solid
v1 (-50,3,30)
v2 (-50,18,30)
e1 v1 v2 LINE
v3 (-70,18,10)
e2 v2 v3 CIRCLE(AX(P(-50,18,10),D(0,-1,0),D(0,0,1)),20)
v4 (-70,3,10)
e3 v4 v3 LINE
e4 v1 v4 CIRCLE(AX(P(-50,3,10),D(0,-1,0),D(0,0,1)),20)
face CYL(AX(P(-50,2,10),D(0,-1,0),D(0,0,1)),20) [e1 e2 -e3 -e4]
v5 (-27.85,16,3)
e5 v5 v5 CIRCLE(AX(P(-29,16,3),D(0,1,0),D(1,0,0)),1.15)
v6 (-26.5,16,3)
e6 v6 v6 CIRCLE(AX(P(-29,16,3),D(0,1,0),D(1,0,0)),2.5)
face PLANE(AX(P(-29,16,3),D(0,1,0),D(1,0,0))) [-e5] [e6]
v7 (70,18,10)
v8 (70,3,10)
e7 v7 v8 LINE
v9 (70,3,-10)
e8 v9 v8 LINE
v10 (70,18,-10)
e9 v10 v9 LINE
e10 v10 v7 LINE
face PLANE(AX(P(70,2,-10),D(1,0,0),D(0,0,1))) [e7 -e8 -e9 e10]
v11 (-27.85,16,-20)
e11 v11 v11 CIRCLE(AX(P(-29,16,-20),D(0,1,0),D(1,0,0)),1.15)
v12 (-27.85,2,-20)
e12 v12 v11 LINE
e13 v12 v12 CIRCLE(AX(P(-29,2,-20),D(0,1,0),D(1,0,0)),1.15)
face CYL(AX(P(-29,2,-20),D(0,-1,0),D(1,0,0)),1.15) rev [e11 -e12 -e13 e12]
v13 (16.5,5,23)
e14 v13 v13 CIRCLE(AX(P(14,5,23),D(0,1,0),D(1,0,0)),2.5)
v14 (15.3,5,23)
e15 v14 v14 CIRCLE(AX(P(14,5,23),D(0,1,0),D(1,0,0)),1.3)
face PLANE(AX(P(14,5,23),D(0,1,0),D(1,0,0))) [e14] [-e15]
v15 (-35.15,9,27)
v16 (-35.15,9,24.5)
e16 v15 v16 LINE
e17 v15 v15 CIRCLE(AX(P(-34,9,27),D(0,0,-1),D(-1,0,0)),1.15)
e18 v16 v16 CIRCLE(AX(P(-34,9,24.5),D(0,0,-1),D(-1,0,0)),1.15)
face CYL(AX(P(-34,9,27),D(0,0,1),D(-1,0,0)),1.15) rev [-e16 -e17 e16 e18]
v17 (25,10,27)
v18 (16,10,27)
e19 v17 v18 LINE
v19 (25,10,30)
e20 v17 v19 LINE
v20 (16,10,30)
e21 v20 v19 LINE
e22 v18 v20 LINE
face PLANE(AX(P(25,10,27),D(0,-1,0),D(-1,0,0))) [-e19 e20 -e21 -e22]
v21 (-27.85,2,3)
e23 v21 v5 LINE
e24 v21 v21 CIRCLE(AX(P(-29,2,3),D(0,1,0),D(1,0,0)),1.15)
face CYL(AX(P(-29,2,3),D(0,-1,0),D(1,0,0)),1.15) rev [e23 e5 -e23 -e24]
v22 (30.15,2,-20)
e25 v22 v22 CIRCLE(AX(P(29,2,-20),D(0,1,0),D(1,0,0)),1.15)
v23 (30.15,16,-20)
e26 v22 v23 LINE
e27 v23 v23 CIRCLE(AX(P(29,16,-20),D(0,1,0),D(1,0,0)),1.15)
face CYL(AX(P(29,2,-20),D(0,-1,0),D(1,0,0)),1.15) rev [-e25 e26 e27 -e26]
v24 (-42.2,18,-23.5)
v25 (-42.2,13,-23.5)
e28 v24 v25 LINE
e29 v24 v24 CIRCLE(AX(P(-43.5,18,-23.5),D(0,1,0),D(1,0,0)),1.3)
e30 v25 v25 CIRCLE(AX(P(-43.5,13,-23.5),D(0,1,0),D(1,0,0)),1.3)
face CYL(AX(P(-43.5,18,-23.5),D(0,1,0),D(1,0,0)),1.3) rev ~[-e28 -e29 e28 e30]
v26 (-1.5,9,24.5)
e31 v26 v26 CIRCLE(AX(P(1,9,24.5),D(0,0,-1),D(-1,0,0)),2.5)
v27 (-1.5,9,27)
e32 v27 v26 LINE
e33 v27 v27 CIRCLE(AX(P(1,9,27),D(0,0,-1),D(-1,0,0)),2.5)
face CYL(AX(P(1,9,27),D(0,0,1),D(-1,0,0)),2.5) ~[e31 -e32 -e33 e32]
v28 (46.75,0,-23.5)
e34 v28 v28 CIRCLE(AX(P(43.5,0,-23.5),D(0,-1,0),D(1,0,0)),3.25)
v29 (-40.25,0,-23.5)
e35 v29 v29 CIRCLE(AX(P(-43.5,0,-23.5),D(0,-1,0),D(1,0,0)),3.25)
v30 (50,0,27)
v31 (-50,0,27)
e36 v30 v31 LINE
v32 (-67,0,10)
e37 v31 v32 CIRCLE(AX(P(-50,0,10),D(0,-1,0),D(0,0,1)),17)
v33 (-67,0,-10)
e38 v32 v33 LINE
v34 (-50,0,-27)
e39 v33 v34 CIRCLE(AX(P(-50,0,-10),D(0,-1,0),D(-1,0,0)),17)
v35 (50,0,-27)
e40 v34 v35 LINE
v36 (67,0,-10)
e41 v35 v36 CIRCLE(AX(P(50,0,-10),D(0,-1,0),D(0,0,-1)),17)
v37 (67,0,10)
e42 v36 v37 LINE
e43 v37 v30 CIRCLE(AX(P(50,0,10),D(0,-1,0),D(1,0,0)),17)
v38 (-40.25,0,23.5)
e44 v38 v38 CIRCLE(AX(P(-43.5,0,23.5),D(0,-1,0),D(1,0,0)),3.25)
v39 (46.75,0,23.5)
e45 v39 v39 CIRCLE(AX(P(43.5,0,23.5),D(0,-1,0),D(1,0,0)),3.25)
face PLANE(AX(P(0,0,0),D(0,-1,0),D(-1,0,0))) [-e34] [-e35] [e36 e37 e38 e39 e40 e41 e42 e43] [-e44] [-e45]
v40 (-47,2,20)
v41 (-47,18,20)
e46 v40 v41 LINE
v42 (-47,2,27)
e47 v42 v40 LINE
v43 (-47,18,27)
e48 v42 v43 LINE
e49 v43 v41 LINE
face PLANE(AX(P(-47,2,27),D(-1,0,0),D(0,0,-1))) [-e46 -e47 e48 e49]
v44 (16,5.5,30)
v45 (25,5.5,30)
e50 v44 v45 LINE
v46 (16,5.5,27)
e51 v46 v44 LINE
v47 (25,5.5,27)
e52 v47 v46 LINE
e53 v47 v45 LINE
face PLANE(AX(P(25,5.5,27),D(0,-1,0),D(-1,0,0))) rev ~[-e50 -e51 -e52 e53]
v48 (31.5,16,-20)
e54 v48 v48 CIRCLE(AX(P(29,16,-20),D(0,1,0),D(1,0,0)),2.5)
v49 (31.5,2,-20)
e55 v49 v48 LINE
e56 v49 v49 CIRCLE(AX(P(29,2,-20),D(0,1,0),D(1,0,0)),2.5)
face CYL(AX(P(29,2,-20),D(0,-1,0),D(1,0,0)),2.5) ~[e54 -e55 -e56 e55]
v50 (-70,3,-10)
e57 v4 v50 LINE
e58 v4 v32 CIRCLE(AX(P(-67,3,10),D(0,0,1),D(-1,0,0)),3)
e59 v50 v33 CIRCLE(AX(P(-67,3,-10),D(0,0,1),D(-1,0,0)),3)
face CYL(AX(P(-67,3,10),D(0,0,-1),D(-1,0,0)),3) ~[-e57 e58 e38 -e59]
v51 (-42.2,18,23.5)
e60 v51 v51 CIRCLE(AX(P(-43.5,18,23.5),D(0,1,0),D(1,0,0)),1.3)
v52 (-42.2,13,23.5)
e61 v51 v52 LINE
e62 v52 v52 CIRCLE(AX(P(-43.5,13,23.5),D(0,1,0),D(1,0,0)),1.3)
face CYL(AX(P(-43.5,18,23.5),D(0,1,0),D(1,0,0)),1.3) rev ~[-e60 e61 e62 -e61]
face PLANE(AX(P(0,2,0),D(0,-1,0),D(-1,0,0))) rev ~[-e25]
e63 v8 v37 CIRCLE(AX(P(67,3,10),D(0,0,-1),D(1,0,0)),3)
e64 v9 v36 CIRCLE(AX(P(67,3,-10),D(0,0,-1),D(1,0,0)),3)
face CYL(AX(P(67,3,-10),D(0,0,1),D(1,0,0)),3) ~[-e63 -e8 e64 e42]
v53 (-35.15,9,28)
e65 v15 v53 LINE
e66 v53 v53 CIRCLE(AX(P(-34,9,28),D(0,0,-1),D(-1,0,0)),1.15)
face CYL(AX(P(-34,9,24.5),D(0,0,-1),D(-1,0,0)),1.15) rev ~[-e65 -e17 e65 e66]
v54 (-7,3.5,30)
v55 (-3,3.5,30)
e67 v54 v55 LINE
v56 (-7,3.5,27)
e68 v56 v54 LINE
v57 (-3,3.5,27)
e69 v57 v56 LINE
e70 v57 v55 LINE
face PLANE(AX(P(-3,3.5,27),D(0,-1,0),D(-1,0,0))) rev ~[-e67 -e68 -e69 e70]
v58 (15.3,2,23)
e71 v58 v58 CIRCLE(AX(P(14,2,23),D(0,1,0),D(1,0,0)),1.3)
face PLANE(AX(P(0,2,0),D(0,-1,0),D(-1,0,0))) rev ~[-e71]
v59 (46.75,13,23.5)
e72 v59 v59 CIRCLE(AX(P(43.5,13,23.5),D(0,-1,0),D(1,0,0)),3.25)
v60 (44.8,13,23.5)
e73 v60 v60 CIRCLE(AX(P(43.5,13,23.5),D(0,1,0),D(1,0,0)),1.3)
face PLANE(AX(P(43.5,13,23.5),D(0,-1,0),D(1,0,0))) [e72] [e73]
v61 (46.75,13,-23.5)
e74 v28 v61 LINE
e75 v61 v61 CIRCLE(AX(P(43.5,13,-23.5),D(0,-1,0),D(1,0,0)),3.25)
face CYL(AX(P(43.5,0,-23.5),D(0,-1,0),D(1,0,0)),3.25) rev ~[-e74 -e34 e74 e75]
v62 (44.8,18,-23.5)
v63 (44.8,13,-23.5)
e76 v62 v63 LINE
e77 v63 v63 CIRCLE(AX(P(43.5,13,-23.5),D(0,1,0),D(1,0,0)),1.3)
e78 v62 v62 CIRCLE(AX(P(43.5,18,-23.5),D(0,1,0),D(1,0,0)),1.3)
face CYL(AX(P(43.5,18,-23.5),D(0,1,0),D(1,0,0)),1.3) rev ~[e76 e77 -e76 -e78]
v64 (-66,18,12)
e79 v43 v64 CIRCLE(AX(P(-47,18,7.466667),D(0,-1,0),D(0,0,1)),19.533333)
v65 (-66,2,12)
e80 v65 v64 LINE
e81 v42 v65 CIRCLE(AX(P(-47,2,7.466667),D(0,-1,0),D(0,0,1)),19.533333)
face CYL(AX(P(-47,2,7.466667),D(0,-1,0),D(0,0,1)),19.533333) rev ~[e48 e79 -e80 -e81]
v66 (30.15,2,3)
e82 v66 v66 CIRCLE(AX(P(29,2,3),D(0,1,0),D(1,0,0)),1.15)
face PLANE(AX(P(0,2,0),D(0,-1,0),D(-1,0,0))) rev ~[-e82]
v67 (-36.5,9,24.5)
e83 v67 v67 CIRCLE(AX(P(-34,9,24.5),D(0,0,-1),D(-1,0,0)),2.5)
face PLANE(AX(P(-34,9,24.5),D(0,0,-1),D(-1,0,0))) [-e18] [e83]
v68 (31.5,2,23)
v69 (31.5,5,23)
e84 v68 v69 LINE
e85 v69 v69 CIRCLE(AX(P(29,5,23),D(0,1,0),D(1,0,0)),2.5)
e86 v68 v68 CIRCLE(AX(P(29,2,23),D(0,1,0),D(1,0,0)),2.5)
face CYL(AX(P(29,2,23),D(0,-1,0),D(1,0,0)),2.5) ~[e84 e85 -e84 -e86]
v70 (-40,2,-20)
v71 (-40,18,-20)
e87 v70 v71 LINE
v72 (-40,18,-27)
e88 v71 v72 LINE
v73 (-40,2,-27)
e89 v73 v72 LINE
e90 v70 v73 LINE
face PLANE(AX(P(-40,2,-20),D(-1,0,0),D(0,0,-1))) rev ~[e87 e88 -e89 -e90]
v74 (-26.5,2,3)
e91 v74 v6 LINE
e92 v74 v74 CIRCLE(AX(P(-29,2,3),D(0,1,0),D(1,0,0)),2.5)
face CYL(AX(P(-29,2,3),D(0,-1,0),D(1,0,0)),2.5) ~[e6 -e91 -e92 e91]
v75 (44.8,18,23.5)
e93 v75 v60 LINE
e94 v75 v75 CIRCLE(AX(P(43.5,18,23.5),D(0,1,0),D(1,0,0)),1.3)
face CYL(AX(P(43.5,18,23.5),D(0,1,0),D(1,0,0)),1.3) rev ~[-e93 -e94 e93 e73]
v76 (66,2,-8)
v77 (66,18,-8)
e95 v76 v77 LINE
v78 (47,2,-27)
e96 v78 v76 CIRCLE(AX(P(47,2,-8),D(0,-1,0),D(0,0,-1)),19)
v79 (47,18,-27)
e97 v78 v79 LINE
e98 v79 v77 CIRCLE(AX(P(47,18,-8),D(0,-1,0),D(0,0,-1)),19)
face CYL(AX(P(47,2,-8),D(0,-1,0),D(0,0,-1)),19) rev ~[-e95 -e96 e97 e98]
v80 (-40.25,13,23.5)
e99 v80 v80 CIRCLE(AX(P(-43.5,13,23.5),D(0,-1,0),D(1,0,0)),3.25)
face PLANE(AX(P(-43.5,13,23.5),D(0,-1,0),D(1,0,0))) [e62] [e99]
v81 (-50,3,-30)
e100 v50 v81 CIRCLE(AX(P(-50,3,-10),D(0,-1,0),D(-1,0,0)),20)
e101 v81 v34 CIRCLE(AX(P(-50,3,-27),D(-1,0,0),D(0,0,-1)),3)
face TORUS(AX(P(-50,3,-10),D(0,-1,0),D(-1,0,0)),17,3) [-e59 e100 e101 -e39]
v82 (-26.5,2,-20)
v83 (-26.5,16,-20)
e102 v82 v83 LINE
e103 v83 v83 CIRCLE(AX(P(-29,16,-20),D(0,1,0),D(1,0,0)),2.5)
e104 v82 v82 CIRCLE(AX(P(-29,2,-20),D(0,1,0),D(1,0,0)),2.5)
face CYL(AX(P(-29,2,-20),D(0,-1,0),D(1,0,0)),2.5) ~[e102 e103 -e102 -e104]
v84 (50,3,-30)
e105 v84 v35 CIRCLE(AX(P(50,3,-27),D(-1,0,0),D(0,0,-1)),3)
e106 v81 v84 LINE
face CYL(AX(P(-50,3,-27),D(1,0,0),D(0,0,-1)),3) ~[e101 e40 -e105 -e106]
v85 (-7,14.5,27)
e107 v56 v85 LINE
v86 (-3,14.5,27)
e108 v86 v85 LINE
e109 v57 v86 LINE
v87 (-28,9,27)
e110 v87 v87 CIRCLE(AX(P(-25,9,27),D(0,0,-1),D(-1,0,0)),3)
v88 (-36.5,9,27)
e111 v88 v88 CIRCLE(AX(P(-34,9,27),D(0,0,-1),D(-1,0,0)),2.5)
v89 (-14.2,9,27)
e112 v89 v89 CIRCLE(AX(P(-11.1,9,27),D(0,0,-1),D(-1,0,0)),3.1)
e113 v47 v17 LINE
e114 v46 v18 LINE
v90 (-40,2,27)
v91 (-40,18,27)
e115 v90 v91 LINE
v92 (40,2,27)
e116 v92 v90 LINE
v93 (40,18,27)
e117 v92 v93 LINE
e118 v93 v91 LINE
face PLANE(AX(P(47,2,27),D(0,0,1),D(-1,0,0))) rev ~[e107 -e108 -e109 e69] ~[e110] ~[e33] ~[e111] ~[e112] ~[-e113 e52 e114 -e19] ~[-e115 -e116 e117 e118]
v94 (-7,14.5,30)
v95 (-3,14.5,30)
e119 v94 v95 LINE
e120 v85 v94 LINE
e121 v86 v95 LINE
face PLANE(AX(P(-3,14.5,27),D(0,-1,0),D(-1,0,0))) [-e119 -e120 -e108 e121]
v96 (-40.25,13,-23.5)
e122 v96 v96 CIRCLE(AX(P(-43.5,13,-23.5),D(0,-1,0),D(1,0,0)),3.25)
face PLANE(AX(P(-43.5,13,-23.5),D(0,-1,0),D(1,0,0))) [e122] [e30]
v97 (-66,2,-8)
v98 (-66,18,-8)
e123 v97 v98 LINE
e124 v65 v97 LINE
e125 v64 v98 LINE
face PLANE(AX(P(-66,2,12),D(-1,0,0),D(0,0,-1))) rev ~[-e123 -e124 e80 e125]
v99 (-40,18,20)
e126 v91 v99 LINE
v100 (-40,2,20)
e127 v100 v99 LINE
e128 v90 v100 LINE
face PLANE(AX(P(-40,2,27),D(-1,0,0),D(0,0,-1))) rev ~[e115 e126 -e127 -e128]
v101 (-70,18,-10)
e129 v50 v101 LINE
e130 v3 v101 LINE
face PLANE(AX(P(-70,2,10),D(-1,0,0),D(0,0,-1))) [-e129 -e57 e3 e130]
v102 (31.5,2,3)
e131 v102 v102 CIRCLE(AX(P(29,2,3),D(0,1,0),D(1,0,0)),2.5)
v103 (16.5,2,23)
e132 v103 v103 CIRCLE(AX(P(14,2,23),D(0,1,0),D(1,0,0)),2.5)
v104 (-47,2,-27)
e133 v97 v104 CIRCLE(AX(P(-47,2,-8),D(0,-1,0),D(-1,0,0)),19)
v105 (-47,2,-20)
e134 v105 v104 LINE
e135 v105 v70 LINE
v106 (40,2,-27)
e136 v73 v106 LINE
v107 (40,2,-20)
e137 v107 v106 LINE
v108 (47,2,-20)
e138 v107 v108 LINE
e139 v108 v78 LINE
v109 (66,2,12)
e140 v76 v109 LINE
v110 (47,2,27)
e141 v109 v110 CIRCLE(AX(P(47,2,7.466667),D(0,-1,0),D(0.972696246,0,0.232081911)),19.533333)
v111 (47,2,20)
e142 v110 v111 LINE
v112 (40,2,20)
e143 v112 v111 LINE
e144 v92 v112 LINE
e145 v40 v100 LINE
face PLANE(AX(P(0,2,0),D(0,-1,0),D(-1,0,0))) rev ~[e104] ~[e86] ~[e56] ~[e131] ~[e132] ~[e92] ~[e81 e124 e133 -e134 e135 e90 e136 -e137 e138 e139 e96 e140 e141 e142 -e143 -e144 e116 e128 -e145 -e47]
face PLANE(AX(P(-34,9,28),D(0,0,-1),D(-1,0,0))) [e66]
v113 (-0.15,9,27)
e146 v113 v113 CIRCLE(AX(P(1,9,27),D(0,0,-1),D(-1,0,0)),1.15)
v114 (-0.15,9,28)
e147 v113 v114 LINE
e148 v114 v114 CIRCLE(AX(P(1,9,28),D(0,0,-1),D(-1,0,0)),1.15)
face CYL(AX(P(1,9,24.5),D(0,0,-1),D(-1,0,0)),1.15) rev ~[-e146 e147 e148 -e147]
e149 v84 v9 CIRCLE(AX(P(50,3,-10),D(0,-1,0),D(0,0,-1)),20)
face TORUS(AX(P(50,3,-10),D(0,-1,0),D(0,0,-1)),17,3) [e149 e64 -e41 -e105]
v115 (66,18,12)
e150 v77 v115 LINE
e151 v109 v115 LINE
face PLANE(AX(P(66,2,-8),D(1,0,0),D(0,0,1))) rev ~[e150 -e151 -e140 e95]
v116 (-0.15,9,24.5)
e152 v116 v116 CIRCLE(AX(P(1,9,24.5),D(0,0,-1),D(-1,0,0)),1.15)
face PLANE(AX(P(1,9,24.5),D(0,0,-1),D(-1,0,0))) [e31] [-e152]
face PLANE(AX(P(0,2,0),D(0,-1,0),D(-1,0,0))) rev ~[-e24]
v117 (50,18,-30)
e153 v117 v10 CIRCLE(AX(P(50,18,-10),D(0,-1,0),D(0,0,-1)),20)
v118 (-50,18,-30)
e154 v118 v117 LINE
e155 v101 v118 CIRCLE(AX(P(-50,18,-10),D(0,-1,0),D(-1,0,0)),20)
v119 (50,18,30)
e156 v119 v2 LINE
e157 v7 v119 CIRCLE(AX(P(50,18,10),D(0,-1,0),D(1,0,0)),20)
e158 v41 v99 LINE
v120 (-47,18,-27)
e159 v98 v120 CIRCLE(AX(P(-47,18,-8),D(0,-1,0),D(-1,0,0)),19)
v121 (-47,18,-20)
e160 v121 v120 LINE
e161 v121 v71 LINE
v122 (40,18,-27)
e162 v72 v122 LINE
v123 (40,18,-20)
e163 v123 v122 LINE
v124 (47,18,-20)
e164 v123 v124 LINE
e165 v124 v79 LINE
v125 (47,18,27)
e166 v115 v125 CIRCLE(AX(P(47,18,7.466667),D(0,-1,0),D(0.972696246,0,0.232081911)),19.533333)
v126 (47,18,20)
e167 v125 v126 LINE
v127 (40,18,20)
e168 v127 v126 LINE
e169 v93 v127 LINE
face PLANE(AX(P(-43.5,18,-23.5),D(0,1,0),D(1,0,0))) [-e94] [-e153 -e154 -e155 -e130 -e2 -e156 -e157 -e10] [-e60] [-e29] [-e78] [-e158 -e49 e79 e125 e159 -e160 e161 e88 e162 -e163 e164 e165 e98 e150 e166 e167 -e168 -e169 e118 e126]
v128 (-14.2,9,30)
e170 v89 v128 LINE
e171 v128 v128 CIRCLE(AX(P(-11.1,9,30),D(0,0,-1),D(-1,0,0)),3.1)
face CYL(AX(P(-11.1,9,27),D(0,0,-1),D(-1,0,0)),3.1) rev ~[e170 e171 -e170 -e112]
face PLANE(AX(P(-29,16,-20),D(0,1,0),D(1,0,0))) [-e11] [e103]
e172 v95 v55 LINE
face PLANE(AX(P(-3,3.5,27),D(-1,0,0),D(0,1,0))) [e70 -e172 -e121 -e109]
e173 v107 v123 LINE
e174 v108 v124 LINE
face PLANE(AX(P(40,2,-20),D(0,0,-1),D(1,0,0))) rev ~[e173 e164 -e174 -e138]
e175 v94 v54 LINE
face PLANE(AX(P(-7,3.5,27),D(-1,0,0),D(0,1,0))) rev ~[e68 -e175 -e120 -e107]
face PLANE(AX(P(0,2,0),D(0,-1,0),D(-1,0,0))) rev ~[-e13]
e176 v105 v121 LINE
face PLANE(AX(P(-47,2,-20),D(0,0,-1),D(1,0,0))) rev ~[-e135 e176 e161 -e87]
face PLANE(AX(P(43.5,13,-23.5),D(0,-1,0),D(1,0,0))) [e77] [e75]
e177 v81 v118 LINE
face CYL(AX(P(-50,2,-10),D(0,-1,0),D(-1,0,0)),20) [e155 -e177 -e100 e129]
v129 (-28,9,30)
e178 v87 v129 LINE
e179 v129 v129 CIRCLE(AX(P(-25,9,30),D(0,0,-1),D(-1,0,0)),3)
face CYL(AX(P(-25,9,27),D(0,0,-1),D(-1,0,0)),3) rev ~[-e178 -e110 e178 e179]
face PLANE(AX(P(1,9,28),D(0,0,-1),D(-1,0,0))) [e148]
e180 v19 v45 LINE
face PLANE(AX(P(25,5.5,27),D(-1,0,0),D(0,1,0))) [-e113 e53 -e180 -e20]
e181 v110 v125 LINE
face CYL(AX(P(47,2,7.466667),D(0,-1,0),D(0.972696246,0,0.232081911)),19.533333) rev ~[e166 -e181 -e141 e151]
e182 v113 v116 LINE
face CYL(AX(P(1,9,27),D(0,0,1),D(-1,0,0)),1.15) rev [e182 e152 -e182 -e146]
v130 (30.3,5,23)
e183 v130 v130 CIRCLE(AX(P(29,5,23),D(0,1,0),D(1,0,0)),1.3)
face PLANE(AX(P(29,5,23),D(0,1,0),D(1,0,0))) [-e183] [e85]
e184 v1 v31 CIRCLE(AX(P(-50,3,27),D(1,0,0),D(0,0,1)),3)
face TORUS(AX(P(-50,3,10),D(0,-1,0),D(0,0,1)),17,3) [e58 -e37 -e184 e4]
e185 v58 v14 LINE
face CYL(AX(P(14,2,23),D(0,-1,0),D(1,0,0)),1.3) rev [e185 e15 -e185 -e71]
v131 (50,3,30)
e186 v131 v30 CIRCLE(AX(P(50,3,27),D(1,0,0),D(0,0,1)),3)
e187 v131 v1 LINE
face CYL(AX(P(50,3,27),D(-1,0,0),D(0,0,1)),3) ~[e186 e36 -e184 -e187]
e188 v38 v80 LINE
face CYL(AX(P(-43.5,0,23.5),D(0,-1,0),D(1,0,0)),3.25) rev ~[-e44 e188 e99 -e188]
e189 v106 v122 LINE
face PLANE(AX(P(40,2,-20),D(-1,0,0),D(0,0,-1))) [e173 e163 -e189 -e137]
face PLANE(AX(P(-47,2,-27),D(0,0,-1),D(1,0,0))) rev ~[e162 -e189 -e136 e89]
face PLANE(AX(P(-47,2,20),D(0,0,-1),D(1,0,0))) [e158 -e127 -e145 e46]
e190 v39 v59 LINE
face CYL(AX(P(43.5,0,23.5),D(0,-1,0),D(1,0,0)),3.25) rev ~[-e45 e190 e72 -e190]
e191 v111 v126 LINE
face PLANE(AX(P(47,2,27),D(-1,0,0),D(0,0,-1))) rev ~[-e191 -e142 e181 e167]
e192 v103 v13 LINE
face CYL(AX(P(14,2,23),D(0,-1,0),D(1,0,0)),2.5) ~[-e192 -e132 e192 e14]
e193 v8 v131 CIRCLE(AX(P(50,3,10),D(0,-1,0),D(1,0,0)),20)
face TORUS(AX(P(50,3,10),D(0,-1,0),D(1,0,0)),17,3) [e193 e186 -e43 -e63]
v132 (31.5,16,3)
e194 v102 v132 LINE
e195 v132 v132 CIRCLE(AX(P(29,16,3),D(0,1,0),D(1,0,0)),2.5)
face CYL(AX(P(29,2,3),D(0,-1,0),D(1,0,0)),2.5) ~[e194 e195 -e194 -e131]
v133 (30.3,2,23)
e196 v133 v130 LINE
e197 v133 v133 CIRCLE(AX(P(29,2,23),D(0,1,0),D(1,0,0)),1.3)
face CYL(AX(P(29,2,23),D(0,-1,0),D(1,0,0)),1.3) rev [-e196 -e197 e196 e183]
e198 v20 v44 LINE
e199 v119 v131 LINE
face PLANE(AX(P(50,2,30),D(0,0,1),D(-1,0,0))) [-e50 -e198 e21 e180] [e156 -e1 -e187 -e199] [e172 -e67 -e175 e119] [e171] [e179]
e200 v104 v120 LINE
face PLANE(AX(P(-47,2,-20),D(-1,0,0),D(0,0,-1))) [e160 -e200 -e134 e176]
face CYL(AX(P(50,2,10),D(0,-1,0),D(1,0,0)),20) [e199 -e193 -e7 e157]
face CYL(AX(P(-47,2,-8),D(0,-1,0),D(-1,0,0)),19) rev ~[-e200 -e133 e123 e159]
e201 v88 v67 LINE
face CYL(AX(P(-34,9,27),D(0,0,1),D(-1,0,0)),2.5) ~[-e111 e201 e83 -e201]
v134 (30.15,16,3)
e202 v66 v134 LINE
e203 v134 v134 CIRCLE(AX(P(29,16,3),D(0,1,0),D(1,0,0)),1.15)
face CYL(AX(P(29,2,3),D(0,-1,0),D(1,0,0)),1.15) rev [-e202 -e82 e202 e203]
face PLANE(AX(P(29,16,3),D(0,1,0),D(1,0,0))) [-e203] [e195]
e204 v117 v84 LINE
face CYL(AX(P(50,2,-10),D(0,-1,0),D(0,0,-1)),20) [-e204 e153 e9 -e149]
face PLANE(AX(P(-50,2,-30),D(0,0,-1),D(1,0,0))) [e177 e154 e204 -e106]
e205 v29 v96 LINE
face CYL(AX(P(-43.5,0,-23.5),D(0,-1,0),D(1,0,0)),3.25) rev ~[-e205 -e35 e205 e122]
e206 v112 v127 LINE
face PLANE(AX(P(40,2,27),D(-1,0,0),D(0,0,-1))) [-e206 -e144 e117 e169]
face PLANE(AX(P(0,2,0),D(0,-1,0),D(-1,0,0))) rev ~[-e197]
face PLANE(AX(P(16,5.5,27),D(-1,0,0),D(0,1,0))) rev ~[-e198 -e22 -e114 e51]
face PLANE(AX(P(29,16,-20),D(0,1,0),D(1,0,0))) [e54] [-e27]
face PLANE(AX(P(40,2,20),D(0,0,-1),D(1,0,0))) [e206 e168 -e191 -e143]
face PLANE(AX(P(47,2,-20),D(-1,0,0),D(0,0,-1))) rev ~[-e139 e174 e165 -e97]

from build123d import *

# Parameters (mm, degrees)
BOSS_EXTRUDE1_DEPTH = 2
BOSS_EXTRUDE2_DEPTH = 16
SKETCH12_W          = 7
SKETCH12_H          = 7
BOSS_EXTRUDE5_DEPTH = 16
FILLET1_R           = 3
SKETCH13_R          = 1.3
CUT_EXTRUDE7_DEPTH  = 19
SKETCH14_R          = 2.5
SKETCH14_R_2        = 1.15
BOSS_EXTRUDE6_DEPTH = 14
SKETCH15_R          = 2.5
SKETCH15_R_2        = 1.3
BOSS_EXTRUDE7_DEPTH = 3
SKETCH16_W          = 9
SKETCH16_H          = 4.5
CUT_EXTRUDE8_DEPTH  = 4
SKETCH17_R          = 3.25
CUT_EXTRUDE9_DEPTH  = 13
SKETCH19_R          = 2.5
SKETCH19_R_2        = 1.15
BOSS_EXTRUDE8_DEPTH = 2.5
SKETCH20_R          = 3.1
SKETCH20_R_2        = 3
SKETCH20_W          = 4
SKETCH20_H          = 11
CUT_EXTRUDE10_DEPTH = 5
SKETCH21_R          = 1.15
CUT_EXTRUDE11_DEPTH = 3.5
SKETCH22_R          = 1.15
CUT_EXTRUDE12_DEPTH = 3.5


with BuildPart() as part:
    # Sketch1 → Boss-Extrude1 (new body)
    with BuildSketch(Plane(origin=(0, 0, 0), x_dir=(1, 0, 0), z_dir=(0, 1, 0))):
        with BuildLine():
            Line((70, 10), (70, -10))
            ThreePointArc((70, -10), (64.142135624, -24.142135624), (50, -30))
            Line((50, -30), (-50, -30))
            ThreePointArc((-50, -30), (-64.142135624, -24.142135624), (-70, -10))
            Line((-70, -10), (-70, 10))
            ThreePointArc((-70, 10), (-64.142135624, 24.142135624), (-50, 30))
            Line((-50, 30), (50, 30))
            ThreePointArc((50, 30), (64.142135624, 24.142135624), (70, 10))
        make_face()
    extrude(amount=BOSS_EXTRUDE1_DEPTH)

    # Sketch2 → Boss-Extrude2 (add)
    with BuildSketch(Plane(origin=(0, 2, 0), x_dir=(1, 0, 0), z_dir=(0, 1, 0))):
        with BuildLine():
            Line((-50, 30), (50, 30))
            ThreePointArc((50, 30), (64.142135624, 24.142135624), (70, 10))
            Line((70, 10), (70, -10))
            ThreePointArc((70, -10), (64.142135624, -24.142135624), (50, -30))
            Line((50, -30), (-50, -30))
            ThreePointArc((-50, -30), (-64.142135624, -24.142135624), (-70, -10))
            Line((-70, -10), (-70, 10))
            ThreePointArc((-70, 10), (-64.142135624, 24.142135624), (-50, 30))
        make_face()
        with BuildLine():
            Line((-47, 27), (47, 27))
            ThreePointArc((47, 27), (60.435028843, 21.435028843), (66, 8))
            Line((66, 8), (66, -12))
            ThreePointArc((66, -12), (59.103718437, -22.798043353), (47, -27))
            Line((47, -27), (-47, -27))
            ThreePointArc((-47, -27), (-59.103718437, -22.798043353), (-66, -12))
            Line((-66, -12), (-66, 8))
            ThreePointArc((-66, 8), (-60.435028843, 21.435028843), (-47, 27))
        make_face(mode=Mode.SUBTRACT)
    extrude(amount=BOSS_EXTRUDE2_DEPTH)

    # Sketch12 → Boss-Extrude5 (add)
    with BuildSketch(Plane(origin=(0, 2, 0), x_dir=(1, 0, 0), z_dir=(0, 1, 0))):
        with Locations((-43.5, 23.5)):
            Rectangle(SKETCH12_W, SKETCH12_H)
        with Locations((-43.5, -23.5)):
            Rectangle(SKETCH12_W, SKETCH12_H)
        with Locations((43.5, -23.5)):
            Rectangle(SKETCH12_W, SKETCH12_H)
        with Locations((43.5, 23.5)):
            Rectangle(SKETCH12_W, SKETCH12_H)
    extrude(amount=BOSS_EXTRUDE5_DEPTH)

    # Fillet1
    fillet1_edges = [part.edges().sort_by_distance(p)[0] for p in [
        (70, 0, 0),
        (64.142135624, 0, 24.142135624),
        (0, 0, 30),
        (-64.142135624, 0, 24.142135624),
        (-70, 0, 0),
        (-64.142135624, 0, -24.142135624),
        (0, 0, -30),
        (64.142135624, 0, -24.142135624),
    ]]
    fillet(fillet1_edges, radius=FILLET1_R)

    # Sketch13 → Cut-Extrude7 (cut, through all)
    with BuildSketch(Plane(origin=(0, 18, 0), x_dir=(1, 0, 0), z_dir=(0, 1, 0))):
        with Locations((-43.5, 23.5)):
            Circle(SKETCH13_R)
        with Locations((-43.5, -23.5)):
            Circle(SKETCH13_R)
        with Locations((43.5, -23.5)):
            Circle(SKETCH13_R)
        with Locations((43.5, 23.5)):
            Circle(SKETCH13_R)
    extrude(amount=-CUT_EXTRUDE7_DEPTH, mode=Mode.SUBTRACT)

    # Sketch14 → Boss-Extrude6 (add)
    with BuildSketch(Plane(origin=(0, 2, 0), x_dir=(1, 0, 0), z_dir=(0, 1, 0))):
        with Locations((29, -3)):
            Circle(SKETCH14_R)
        with Locations((29, -3)):
            Circle(SKETCH14_R_2, mode=Mode.SUBTRACT)
        with Locations((29, 20)):
            Circle(SKETCH14_R)
        with Locations((29, 20)):
            Circle(SKETCH14_R_2, mode=Mode.SUBTRACT)
        with Locations((-29, 20)):
            Circle(SKETCH14_R)
        with Locations((-29, 20)):
            Circle(SKETCH14_R_2, mode=Mode.SUBTRACT)
        with Locations((-29, -3)):
            Circle(SKETCH14_R)
        with Locations((-29, -3)):
            Circle(SKETCH14_R_2, mode=Mode.SUBTRACT)
    extrude(amount=BOSS_EXTRUDE6_DEPTH)

    # Sketch15 → Boss-Extrude7 (add)
    with BuildSketch(Plane(origin=(0, 2, 0), x_dir=(1, 0, 0), z_dir=(0, 1, 0))):
        with Locations((29, -23)):
            Circle(SKETCH15_R)
        with Locations((29, -23)):
            Circle(SKETCH15_R_2, mode=Mode.SUBTRACT)
        with Locations((14, -23)):
            Circle(SKETCH15_R)
        with Locations((14, -23)):
            Circle(SKETCH15_R_2, mode=Mode.SUBTRACT)
    extrude(amount=BOSS_EXTRUDE7_DEPTH)

    # Sketch16 → Cut-Extrude8 (cut, through all)
    with BuildSketch(Plane(origin=(0, 0, 27), x_dir=(-1, 0, 0), z_dir=(0, 0, -1))):
        with Locations((-20.5, 7.75)):
            Rectangle(SKETCH16_W, SKETCH16_H)
    extrude(amount=-CUT_EXTRUDE8_DEPTH, mode=Mode.SUBTRACT)

    # Sketch17 → Cut-Extrude9 (cut)
    with BuildSketch(Plane.XZ):
        with Locations((-43.5, 23.5)):
            Circle(SKETCH17_R)
        with Locations((43.5, 23.5)):
            Circle(SKETCH17_R)
        with Locations((43.5, -23.5)):
            Circle(SKETCH17_R)
        with Locations((-43.5, -23.5)):
            Circle(SKETCH17_R)
    extrude(amount=-CUT_EXTRUDE9_DEPTH, mode=Mode.SUBTRACT)

    # Sketch19 → Boss-Extrude8 (add)
    with BuildSketch(Plane(origin=(0, 0, 27), x_dir=(-1, 0, 0), z_dir=(0, 0, -1))):
        with Locations((-1, 9)):
            Circle(SKETCH19_R)
        with Locations((-1, 9)):
            Circle(SKETCH19_R_2, mode=Mode.SUBTRACT)
        with Locations((34, 9)):
            Circle(SKETCH19_R)
        with Locations((34, 9)):
            Circle(SKETCH19_R_2, mode=Mode.SUBTRACT)
    extrude(amount=BOSS_EXTRUDE8_DEPTH)

    # Sketch20 → Cut-Extrude10 (cut)
    with BuildSketch(Plane(origin=(0, 0, 27), x_dir=(-1, 0, 0), z_dir=(0, 0, -1))):
        with Locations((11.1, 9)):
            Circle(SKETCH20_R)
        with Locations((25, 9)):
            Circle(SKETCH20_R_2)
        with Locations((5, 9)):
            Rectangle(SKETCH20_W, SKETCH20_H)
    extrude(amount=-CUT_EXTRUDE10_DEPTH, mode=Mode.SUBTRACT)

    # Sketch21 → Cut-Extrude11 (cut)
    with BuildSketch(Plane(origin=(0, 0, 24.5), x_dir=(-1, 0, 0), z_dir=(0, 0, -1))):
        with Locations((-1, 9)):
            Circle(SKETCH21_R)
    extrude(amount=-CUT_EXTRUDE11_DEPTH, mode=Mode.SUBTRACT)

    # Sketch22 → Cut-Extrude12 (cut)
    with BuildSketch(Plane(origin=(0, 0, 24.5), x_dir=(-1, 0, 0), z_dir=(0, 0, -1))):
        with Locations((34, 9)):
            Circle(SKETCH22_R)
    extrude(amount=-CUT_EXTRUDE12_DEPTH, mode=Mode.SUBTRACT)


solid = part.part
